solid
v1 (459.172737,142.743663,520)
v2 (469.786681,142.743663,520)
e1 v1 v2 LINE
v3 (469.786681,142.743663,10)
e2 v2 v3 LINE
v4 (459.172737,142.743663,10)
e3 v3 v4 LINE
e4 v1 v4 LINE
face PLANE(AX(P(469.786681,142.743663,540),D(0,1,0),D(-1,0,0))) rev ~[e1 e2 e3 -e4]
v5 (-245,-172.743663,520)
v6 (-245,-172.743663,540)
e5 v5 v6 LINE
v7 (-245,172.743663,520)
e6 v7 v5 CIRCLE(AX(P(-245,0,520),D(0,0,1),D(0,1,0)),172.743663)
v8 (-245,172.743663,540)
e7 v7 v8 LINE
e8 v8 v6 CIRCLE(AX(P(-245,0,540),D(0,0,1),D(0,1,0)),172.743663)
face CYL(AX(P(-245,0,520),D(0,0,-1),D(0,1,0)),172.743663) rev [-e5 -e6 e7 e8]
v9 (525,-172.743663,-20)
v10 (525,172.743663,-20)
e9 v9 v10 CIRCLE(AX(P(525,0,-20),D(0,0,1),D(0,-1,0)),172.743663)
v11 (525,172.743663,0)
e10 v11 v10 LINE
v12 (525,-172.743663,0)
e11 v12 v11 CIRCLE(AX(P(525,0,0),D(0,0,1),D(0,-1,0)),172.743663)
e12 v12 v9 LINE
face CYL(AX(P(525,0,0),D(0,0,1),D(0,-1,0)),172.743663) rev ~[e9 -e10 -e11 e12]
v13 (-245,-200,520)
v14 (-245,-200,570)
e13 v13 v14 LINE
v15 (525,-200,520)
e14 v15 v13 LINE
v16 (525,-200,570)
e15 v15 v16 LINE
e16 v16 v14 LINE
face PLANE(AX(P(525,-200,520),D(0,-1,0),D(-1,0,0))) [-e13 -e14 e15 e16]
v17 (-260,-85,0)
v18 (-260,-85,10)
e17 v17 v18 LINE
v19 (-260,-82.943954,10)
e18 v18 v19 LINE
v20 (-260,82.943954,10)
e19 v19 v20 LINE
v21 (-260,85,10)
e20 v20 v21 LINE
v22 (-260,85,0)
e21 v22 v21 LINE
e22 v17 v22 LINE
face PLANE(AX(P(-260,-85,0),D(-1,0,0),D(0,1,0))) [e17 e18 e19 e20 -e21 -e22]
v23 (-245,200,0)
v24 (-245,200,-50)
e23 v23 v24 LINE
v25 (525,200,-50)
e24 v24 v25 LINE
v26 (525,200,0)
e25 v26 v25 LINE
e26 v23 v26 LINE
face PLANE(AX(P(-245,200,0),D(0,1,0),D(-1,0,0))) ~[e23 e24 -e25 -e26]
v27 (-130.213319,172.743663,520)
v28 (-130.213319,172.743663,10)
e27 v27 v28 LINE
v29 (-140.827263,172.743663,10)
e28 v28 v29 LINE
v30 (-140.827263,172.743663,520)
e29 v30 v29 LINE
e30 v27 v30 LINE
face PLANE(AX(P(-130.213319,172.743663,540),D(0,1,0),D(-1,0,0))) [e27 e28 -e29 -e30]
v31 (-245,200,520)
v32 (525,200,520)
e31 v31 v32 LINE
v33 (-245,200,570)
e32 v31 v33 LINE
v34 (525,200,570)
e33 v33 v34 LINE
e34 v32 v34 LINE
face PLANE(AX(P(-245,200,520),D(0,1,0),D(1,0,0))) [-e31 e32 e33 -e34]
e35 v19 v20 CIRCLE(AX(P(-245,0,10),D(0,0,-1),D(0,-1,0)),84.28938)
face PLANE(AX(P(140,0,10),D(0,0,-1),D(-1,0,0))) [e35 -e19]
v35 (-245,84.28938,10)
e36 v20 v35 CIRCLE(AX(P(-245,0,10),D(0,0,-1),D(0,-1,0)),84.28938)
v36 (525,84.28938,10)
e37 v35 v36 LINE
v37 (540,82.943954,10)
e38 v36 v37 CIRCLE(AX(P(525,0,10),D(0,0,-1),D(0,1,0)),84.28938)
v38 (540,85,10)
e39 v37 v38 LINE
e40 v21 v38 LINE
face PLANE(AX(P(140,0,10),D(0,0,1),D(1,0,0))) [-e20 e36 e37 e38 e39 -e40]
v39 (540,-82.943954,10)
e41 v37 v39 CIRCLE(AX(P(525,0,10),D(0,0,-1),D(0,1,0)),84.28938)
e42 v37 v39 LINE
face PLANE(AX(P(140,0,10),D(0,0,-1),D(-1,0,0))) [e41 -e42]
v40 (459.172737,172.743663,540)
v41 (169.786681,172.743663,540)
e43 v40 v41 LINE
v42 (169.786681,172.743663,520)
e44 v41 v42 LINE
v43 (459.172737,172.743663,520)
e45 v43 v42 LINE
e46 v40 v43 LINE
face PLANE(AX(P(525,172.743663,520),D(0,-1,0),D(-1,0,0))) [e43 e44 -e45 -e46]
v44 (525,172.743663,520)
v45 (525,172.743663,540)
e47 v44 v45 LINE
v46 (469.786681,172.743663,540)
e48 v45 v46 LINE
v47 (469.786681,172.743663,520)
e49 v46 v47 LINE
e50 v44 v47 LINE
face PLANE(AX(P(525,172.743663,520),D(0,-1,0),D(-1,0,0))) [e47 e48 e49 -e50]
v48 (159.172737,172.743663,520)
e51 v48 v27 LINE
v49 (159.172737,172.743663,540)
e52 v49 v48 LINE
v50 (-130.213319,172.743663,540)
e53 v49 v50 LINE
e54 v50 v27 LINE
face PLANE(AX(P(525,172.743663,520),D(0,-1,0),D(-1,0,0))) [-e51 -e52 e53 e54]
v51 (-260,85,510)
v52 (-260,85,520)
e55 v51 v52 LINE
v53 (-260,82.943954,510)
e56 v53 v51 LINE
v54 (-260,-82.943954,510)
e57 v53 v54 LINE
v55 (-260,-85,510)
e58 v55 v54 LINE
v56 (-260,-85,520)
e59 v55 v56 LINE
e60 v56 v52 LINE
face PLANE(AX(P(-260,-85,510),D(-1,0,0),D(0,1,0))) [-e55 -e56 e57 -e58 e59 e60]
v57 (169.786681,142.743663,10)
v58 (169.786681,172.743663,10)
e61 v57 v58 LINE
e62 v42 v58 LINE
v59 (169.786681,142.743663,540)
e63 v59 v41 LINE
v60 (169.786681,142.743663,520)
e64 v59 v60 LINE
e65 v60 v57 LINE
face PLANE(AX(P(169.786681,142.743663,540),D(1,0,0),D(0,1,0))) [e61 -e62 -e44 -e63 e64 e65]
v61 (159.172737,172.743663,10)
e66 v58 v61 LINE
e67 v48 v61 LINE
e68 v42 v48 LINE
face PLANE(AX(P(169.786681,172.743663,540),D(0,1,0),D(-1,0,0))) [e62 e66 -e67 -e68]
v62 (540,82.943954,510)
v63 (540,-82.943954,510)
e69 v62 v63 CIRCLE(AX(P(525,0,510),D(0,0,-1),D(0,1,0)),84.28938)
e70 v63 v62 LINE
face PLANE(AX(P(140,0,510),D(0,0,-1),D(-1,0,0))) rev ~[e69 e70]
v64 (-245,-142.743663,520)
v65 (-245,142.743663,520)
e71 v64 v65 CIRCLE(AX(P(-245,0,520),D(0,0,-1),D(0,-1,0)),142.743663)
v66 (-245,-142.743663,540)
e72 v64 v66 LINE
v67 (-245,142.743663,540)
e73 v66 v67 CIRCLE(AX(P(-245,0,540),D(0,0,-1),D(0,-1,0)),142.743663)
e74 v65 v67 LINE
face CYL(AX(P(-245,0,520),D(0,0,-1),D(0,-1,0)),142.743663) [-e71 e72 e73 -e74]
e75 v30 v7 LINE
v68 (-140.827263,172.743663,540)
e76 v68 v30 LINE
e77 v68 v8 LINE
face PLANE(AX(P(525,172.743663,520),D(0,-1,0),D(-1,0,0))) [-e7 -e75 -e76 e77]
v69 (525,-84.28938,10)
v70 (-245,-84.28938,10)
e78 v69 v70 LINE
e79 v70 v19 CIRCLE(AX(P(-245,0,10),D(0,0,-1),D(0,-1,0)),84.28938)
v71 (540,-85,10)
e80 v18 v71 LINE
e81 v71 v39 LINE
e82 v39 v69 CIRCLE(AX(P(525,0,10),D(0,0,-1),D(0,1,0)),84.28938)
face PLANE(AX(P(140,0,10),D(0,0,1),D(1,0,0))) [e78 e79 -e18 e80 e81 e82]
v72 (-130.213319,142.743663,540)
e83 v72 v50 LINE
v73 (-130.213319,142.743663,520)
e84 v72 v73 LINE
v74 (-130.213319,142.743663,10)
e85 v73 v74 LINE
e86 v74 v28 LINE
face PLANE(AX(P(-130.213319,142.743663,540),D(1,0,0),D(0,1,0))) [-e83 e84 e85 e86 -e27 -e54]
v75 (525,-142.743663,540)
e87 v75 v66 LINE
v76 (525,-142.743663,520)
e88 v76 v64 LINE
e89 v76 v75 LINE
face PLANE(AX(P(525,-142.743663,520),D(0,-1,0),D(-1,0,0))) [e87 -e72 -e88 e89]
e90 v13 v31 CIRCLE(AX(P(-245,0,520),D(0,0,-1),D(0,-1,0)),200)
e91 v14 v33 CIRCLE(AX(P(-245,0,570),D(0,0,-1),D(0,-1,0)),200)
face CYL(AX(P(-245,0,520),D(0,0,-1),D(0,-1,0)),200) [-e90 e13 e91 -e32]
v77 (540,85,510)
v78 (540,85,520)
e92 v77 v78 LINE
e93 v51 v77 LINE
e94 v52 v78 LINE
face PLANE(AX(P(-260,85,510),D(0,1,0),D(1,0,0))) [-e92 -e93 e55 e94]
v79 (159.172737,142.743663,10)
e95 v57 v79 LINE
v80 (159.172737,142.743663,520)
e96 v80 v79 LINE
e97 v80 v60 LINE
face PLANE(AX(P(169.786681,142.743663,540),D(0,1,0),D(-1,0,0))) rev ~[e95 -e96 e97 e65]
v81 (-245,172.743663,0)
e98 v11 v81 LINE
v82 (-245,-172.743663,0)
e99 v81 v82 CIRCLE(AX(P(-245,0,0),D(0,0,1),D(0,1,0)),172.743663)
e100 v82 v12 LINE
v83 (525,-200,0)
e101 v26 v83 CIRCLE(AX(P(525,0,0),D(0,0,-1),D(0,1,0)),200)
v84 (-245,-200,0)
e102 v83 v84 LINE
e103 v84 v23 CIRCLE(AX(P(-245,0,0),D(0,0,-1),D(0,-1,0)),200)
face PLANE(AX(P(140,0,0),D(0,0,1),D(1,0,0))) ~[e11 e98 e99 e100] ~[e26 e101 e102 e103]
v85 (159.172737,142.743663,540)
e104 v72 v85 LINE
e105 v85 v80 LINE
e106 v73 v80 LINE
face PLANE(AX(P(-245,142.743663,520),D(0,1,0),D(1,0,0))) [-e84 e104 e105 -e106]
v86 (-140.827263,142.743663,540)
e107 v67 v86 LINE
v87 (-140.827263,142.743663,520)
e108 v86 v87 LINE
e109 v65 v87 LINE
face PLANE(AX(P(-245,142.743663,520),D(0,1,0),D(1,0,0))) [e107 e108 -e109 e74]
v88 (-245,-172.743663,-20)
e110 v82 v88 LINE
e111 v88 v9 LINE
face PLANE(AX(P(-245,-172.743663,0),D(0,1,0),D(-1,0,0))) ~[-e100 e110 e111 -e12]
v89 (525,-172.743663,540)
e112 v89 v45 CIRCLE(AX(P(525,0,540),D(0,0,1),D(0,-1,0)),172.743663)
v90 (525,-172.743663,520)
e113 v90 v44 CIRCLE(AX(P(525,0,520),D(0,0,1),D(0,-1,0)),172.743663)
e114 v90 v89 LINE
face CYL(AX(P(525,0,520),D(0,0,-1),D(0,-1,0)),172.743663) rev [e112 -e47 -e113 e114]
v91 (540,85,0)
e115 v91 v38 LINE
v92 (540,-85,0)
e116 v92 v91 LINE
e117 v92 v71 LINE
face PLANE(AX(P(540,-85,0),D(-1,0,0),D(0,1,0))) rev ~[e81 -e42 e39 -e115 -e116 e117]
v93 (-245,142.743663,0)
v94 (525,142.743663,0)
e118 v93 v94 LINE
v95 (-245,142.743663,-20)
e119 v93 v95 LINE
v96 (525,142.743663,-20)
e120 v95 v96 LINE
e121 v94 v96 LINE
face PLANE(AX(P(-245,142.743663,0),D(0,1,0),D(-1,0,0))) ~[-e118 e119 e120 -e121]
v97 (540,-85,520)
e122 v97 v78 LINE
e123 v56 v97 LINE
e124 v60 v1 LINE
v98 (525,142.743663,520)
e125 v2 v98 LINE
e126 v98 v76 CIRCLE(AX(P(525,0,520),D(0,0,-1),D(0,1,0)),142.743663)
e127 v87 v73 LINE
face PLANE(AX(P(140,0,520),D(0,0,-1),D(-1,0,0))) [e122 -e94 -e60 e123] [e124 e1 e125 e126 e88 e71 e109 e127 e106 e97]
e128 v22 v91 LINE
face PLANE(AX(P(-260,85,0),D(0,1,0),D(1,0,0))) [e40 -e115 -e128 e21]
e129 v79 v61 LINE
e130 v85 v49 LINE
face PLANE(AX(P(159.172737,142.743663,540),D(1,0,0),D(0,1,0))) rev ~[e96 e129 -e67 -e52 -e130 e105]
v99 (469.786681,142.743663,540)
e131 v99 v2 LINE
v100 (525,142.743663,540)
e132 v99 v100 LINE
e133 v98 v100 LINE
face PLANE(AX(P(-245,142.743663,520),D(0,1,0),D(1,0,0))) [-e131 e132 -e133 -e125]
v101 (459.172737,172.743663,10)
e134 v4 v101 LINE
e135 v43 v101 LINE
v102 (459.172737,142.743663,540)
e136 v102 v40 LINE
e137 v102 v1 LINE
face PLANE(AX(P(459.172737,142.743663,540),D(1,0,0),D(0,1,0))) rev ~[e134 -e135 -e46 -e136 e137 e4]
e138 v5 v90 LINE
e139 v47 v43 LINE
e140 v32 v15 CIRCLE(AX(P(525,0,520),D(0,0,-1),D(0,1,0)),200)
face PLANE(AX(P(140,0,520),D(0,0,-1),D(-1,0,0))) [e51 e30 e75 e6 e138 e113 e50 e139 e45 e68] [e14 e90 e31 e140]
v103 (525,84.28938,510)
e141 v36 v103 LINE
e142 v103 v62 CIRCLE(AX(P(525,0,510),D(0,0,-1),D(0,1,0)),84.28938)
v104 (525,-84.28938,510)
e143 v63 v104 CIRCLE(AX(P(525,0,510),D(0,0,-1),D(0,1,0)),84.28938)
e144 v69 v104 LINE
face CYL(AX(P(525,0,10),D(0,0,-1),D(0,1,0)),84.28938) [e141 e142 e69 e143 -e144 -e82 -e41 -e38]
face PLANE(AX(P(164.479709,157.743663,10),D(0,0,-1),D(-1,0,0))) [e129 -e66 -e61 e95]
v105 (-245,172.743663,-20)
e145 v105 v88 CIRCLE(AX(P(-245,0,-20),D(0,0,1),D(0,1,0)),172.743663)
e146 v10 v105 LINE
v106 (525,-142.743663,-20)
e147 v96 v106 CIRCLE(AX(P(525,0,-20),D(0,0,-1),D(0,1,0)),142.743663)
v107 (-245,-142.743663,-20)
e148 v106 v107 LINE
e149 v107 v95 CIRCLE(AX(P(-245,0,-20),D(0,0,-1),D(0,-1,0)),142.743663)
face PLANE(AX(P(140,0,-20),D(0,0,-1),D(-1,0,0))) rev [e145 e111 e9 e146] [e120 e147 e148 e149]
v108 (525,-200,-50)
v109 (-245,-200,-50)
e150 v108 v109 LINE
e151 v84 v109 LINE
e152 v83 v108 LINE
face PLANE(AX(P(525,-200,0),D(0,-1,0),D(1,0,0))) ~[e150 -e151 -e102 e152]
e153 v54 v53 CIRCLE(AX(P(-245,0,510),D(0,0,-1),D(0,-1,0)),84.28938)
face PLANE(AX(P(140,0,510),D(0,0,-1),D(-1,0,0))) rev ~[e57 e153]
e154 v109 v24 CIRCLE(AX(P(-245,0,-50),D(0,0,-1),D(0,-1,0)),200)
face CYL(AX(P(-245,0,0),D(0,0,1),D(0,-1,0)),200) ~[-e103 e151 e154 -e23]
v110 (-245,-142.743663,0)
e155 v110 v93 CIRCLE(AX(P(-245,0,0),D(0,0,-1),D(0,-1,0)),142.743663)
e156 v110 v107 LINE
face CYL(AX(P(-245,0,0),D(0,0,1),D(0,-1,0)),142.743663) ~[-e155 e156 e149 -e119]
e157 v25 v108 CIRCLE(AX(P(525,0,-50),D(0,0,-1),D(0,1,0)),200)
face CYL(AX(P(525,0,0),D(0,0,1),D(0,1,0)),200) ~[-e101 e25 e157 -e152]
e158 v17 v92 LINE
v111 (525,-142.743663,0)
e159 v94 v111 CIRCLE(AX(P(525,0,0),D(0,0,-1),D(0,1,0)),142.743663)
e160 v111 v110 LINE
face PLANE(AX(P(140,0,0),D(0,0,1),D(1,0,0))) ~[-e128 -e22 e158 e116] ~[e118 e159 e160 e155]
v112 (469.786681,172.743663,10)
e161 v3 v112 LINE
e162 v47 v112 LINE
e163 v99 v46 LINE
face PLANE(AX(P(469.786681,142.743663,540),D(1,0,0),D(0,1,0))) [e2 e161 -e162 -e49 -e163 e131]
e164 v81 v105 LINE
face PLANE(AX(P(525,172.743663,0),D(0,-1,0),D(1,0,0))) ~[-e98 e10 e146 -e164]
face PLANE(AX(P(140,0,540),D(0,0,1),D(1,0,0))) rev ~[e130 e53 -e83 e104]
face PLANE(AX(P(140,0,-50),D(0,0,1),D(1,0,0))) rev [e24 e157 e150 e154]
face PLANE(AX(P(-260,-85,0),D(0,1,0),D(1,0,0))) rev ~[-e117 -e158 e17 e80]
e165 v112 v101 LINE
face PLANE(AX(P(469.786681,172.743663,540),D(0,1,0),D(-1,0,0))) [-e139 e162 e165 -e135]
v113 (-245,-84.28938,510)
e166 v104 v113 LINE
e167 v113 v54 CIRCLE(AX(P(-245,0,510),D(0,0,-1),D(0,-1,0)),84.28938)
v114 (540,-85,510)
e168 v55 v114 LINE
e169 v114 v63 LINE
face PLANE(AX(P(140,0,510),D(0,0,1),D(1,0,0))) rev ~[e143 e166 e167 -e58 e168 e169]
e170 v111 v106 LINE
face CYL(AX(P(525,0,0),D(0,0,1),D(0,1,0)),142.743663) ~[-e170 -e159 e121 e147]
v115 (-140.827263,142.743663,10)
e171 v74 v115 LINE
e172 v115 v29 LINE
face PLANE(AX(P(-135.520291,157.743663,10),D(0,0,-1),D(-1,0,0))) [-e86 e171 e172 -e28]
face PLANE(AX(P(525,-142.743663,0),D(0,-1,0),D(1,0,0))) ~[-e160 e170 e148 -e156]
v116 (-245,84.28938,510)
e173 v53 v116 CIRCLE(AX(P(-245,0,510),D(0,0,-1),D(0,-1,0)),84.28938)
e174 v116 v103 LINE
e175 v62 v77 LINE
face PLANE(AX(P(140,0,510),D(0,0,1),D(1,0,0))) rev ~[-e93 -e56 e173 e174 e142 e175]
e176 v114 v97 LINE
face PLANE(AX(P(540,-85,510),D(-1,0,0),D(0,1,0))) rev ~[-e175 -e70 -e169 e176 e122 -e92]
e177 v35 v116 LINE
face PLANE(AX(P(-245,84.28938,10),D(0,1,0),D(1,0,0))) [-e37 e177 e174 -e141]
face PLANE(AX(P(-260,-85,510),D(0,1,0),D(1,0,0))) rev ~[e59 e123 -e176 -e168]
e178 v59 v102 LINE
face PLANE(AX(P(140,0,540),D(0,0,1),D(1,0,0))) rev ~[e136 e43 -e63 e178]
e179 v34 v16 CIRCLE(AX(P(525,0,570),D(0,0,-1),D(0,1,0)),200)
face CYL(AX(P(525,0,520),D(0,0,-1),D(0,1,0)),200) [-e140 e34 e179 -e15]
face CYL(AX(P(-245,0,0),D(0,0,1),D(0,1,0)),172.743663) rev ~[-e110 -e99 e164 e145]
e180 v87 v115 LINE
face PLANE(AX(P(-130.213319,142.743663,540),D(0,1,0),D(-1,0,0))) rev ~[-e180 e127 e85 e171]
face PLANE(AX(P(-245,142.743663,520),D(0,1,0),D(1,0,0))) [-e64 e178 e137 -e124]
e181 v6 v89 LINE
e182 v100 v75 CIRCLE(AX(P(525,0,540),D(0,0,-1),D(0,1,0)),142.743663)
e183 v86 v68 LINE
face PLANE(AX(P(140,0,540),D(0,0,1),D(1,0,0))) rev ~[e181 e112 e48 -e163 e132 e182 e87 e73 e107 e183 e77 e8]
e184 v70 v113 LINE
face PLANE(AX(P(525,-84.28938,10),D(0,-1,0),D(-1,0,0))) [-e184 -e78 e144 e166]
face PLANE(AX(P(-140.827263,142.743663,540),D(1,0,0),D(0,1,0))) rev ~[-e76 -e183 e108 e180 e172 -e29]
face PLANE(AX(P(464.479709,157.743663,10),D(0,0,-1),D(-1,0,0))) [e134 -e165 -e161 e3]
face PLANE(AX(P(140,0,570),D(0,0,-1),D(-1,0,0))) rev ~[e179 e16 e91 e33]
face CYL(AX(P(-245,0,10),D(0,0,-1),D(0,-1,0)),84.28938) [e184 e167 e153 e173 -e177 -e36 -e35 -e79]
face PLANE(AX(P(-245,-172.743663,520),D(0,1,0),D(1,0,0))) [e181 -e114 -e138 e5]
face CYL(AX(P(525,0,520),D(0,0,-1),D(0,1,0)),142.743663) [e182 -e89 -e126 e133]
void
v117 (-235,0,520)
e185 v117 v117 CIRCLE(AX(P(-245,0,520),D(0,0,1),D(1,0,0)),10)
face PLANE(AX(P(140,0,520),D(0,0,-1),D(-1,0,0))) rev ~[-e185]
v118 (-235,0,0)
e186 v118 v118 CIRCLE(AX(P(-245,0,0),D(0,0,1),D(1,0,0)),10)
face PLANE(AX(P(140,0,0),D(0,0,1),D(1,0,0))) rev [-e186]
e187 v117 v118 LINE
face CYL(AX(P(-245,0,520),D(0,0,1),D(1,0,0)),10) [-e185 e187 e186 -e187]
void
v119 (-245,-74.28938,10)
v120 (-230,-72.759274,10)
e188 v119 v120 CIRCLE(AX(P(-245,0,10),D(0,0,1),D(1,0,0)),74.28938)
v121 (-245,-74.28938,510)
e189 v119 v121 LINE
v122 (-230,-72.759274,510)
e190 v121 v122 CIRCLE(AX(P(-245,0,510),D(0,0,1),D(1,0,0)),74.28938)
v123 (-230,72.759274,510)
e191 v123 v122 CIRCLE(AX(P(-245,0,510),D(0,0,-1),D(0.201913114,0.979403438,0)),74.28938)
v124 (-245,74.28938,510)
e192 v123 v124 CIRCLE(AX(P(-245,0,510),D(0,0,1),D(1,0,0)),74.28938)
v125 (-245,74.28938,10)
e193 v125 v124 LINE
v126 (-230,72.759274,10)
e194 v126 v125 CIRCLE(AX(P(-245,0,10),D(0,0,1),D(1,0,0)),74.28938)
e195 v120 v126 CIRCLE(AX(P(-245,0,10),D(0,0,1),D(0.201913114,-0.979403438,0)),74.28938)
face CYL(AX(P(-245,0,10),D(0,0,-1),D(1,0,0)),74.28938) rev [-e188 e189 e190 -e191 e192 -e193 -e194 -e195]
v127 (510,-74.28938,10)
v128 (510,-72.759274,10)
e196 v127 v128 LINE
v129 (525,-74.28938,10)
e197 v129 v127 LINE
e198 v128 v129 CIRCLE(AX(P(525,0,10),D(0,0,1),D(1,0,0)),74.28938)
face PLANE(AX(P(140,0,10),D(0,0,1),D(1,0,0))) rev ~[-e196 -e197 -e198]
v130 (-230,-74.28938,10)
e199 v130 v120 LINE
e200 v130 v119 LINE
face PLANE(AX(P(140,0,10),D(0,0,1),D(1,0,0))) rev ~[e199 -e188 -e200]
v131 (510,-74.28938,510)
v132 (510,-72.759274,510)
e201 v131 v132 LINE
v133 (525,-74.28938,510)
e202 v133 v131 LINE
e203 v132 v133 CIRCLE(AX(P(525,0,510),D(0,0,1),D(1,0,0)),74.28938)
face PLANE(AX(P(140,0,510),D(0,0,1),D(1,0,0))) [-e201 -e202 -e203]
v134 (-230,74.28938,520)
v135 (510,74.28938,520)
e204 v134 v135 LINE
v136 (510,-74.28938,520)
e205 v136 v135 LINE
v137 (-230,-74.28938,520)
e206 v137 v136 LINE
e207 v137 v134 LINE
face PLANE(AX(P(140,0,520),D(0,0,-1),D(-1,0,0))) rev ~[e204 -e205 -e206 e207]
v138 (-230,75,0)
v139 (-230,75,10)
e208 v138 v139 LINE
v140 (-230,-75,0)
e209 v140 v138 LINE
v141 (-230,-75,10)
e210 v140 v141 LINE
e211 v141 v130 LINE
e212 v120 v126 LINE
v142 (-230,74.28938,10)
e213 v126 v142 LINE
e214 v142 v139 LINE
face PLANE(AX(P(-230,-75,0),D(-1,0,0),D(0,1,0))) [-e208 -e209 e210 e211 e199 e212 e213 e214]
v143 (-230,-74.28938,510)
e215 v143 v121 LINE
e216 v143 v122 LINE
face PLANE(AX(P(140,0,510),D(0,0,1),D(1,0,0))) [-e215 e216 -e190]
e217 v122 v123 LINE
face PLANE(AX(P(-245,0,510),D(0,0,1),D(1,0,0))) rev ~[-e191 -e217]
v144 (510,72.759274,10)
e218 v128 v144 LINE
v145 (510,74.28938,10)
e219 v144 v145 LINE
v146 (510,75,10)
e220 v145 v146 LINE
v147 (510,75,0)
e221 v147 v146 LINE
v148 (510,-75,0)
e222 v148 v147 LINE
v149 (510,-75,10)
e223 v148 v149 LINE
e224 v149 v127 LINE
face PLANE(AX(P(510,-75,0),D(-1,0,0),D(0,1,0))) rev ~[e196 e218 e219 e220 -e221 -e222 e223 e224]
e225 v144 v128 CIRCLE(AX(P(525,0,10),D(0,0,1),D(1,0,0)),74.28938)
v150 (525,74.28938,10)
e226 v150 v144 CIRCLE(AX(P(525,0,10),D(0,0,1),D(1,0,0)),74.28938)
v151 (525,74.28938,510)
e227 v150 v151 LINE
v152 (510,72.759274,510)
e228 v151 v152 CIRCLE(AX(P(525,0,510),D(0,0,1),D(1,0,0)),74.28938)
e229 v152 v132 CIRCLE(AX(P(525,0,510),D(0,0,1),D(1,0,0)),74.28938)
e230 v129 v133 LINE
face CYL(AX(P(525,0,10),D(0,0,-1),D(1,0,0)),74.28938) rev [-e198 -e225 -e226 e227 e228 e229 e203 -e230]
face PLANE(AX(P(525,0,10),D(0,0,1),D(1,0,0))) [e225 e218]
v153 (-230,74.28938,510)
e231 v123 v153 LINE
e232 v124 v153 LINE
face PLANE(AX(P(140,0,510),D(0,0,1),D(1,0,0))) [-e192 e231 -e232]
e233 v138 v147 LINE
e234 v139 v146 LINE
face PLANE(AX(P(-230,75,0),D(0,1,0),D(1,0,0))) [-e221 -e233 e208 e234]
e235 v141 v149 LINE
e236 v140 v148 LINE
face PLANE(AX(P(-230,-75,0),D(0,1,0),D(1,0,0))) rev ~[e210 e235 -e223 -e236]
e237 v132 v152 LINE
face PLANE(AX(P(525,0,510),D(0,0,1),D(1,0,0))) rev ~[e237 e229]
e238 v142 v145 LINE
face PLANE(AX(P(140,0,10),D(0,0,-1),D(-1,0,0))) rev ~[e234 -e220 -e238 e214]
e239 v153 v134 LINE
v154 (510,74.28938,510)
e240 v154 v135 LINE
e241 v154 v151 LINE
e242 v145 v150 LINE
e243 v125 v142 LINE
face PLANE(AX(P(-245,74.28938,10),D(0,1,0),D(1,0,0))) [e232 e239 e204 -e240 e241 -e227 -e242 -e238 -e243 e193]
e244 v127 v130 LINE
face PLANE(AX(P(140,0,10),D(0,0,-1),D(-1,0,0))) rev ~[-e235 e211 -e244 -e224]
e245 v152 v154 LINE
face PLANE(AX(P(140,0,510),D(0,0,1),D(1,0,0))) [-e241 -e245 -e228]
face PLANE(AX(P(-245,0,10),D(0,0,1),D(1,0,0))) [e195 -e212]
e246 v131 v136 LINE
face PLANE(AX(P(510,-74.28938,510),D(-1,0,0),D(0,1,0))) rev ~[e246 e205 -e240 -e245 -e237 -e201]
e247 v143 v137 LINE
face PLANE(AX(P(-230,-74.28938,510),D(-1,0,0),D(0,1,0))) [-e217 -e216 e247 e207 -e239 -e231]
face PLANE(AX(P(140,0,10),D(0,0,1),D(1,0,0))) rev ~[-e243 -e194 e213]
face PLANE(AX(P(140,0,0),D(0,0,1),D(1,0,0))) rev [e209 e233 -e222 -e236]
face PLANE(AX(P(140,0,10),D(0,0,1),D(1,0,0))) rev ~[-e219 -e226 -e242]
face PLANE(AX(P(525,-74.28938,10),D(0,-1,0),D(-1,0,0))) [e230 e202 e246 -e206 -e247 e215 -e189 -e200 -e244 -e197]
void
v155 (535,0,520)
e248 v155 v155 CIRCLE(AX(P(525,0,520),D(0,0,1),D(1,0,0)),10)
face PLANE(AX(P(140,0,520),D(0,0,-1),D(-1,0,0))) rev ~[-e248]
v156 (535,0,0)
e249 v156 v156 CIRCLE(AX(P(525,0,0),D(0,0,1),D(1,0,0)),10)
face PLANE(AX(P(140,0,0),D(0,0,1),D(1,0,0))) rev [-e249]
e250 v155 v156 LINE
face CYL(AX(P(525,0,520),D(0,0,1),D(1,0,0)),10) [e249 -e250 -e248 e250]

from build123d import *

# Parameters (mm, degrees)
SKETCH3_W           = 800
SKETCH3_H           = 170
SKETCH3_W_2         = 740
SKETCH3_H_2         = 150
BOSS_EXTRUDE1_DEPTH = 10
BOSS_EXTRUDE2_DEPTH = 500
SKETCH5_W           = 800
SKETCH5_H           = 170
SKETCH5_W_2         = 740
SKETCH5_H_2         = 148.57875962
BOSS_EXTRUDE3_DEPTH = 10
SKETCH7_R           = 74.28937981
BOSS_EXTRUDE6_DEPTH = 500
SKETCH6_R           = 10
CUT_EXTRUDE1_DEPTH  = 521
BOSS_EXTRUDE8_DEPTH = 50
CUT_EXTRUDE2_DEPTH  = 20
SKETCH10_W          = 10.613943808
SKETCH10_H          = 30
BOSS_EXTRUDE9_DEPTH = 530


with BuildPart() as part:
    # Sketch3 → Boss-Extrude1 (new body)
    with BuildSketch(Plane.XY):
        with Locations((140, 0)):
            Rectangle(SKETCH3_W, SKETCH3_H)
        with Locations((140, 0)):
            Rectangle(SKETCH3_W_2, SKETCH3_H_2, mode=Mode.SUBTRACT)
    extrude(amount=BOSS_EXTRUDE1_DEPTH)

    # Sketch4 → Boss-Extrude2 (add)
    with BuildSketch(Plane.XY.offset(10)):
        with BuildLine():
            Line((-245, 84.28937981), (525, 84.28937981))
            ThreePointArc((525, 84.28937981), (609.28937981, 0), (525, -84.28937981))
            Line((525, -84.28937981), (-245, -84.28937981))
            ThreePointArc((-245, -84.28937981), (-329.28937981, 0), (-245, 84.28937981))
        make_face()
        with BuildLine():
            Line((-245, 74.28937981), (525, 74.28937981))
            ThreePointArc((525, 74.28937981), (599.28937981, 0), (525, -74.28937981))
            Line((525, -74.28937981), (-245, -74.28937981))
            ThreePointArc((-245, -74.28937981), (-319.28937981, 0), (-245, 74.28937981))
        make_face(mode=Mode.SUBTRACT)
    extrude(amount=BOSS_EXTRUDE2_DEPTH)

    # Sketch5 → Boss-Extrude3 (add)
    with BuildSketch(Plane.XY.offset(510)):
        with Locations((140, 0)):
            Rectangle(SKETCH5_W, SKETCH5_H)
        with Locations((140, 0)):
            Rectangle(SKETCH5_W_2, SKETCH5_H_2, mode=Mode.SUBTRACT)
    extrude(amount=BOSS_EXTRUDE3_DEPTH)

    # Sketch7 → Boss-Extrude6 (add)
    with BuildSketch(Plane.XY.offset(10)):
        with Locations((-245, 0)):
            Circle(SKETCH7_R)
        with Locations((525, 0)):
            Circle(SKETCH7_R)
    extrude(amount=BOSS_EXTRUDE6_DEPTH)

    # Sketch6 → Cut-Extrude1 (cut, through all)
    with BuildSketch(Plane.XY.offset(520)):
        with Locations((-245, 0)):
            Circle(SKETCH6_R)
        with Locations((525, 0)):
            Circle(SKETCH6_R)
    extrude(amount=-CUT_EXTRUDE1_DEPTH, mode=Mode.SUBTRACT)

    # Sketch8 → Boss-Extrude8 (add)
    with BuildSketch(Plane.XY.offset(520)):
        with BuildLine():
            Line((-245, 200), (525, 200))
            ThreePointArc((525, 200), (725, 0), (525, -200))
            Line((525, -200), (-245, -200))
            ThreePointArc((-245, -200), (-445, 0), (-245, 200))
        make_face()
    boss_extrude8 = extrude(amount=BOSS_EXTRUDE8_DEPTH)

    # Sketch9 → Cut-Extrude2 (cut)
    with BuildSketch(Plane(origin=(0, 0, 520), x_dir=(-1, 0, 0), z_dir=(0, 0, -1))):
        with BuildLine():
            Line((-525, 172.743663041), (245, 172.743663041))
            ThreePointArc((245, 172.743663041), (417.743663041, 0), (245, -172.743663041))
            Line((245, -172.743663041), (-525, -172.743663041))
            ThreePointArc((-525, -172.743663041), (-697.743663041, 0), (-525, 172.743663041))
        make_face()
        with BuildLine():
            Line((-525, -142.743663041), (245, -142.743663041))
            ThreePointArc((245, -142.743663041), (387.743663041, 0), (245, 142.743663041))
            Line((245, 142.743663041), (-525, 142.743663041))
            ThreePointArc((-525, 142.743663041), (-667.743663041, 0), (-525, -142.743663041))
        make_face(mode=Mode.SUBTRACT)
    cut_extrude2 = extrude(amount=-CUT_EXTRUDE2_DEPTH, mode=Mode.SUBTRACT)

    # Sketch10 → Boss-Extrude9 (add)
    with BuildSketch(Plane(origin=(0, 0, 540), x_dir=(-1, 0, 0), z_dir=(0, 0, -1))):
        with Locations((135.520291363, 157.743663041)):
            Rectangle(SKETCH10_W, SKETCH10_H)
        with Locations((-164.479708637, 157.743663041)):
            Rectangle(SKETCH10_W, SKETCH10_H)
        with Locations((-464.479708637, 157.743663041)):
            Rectangle(SKETCH10_W, SKETCH10_H)
    extrude(amount=BOSS_EXTRUDE9_DEPTH)

    # Mirror1: Boss-Extrude8, Cut-Extrude2 across plane
    add(boss_extrude8.mirror(Plane(origin=(0, 0, 260), x_dir=(1, 0, 0), z_dir=(0, 0, -1))))
    add(cut_extrude2.mirror(Plane(origin=(0, 0, 260), x_dir=(1, 0, 0), z_dir=(0, 0, -1))), mode=Mode.SUBTRACT)


solid = part.part
